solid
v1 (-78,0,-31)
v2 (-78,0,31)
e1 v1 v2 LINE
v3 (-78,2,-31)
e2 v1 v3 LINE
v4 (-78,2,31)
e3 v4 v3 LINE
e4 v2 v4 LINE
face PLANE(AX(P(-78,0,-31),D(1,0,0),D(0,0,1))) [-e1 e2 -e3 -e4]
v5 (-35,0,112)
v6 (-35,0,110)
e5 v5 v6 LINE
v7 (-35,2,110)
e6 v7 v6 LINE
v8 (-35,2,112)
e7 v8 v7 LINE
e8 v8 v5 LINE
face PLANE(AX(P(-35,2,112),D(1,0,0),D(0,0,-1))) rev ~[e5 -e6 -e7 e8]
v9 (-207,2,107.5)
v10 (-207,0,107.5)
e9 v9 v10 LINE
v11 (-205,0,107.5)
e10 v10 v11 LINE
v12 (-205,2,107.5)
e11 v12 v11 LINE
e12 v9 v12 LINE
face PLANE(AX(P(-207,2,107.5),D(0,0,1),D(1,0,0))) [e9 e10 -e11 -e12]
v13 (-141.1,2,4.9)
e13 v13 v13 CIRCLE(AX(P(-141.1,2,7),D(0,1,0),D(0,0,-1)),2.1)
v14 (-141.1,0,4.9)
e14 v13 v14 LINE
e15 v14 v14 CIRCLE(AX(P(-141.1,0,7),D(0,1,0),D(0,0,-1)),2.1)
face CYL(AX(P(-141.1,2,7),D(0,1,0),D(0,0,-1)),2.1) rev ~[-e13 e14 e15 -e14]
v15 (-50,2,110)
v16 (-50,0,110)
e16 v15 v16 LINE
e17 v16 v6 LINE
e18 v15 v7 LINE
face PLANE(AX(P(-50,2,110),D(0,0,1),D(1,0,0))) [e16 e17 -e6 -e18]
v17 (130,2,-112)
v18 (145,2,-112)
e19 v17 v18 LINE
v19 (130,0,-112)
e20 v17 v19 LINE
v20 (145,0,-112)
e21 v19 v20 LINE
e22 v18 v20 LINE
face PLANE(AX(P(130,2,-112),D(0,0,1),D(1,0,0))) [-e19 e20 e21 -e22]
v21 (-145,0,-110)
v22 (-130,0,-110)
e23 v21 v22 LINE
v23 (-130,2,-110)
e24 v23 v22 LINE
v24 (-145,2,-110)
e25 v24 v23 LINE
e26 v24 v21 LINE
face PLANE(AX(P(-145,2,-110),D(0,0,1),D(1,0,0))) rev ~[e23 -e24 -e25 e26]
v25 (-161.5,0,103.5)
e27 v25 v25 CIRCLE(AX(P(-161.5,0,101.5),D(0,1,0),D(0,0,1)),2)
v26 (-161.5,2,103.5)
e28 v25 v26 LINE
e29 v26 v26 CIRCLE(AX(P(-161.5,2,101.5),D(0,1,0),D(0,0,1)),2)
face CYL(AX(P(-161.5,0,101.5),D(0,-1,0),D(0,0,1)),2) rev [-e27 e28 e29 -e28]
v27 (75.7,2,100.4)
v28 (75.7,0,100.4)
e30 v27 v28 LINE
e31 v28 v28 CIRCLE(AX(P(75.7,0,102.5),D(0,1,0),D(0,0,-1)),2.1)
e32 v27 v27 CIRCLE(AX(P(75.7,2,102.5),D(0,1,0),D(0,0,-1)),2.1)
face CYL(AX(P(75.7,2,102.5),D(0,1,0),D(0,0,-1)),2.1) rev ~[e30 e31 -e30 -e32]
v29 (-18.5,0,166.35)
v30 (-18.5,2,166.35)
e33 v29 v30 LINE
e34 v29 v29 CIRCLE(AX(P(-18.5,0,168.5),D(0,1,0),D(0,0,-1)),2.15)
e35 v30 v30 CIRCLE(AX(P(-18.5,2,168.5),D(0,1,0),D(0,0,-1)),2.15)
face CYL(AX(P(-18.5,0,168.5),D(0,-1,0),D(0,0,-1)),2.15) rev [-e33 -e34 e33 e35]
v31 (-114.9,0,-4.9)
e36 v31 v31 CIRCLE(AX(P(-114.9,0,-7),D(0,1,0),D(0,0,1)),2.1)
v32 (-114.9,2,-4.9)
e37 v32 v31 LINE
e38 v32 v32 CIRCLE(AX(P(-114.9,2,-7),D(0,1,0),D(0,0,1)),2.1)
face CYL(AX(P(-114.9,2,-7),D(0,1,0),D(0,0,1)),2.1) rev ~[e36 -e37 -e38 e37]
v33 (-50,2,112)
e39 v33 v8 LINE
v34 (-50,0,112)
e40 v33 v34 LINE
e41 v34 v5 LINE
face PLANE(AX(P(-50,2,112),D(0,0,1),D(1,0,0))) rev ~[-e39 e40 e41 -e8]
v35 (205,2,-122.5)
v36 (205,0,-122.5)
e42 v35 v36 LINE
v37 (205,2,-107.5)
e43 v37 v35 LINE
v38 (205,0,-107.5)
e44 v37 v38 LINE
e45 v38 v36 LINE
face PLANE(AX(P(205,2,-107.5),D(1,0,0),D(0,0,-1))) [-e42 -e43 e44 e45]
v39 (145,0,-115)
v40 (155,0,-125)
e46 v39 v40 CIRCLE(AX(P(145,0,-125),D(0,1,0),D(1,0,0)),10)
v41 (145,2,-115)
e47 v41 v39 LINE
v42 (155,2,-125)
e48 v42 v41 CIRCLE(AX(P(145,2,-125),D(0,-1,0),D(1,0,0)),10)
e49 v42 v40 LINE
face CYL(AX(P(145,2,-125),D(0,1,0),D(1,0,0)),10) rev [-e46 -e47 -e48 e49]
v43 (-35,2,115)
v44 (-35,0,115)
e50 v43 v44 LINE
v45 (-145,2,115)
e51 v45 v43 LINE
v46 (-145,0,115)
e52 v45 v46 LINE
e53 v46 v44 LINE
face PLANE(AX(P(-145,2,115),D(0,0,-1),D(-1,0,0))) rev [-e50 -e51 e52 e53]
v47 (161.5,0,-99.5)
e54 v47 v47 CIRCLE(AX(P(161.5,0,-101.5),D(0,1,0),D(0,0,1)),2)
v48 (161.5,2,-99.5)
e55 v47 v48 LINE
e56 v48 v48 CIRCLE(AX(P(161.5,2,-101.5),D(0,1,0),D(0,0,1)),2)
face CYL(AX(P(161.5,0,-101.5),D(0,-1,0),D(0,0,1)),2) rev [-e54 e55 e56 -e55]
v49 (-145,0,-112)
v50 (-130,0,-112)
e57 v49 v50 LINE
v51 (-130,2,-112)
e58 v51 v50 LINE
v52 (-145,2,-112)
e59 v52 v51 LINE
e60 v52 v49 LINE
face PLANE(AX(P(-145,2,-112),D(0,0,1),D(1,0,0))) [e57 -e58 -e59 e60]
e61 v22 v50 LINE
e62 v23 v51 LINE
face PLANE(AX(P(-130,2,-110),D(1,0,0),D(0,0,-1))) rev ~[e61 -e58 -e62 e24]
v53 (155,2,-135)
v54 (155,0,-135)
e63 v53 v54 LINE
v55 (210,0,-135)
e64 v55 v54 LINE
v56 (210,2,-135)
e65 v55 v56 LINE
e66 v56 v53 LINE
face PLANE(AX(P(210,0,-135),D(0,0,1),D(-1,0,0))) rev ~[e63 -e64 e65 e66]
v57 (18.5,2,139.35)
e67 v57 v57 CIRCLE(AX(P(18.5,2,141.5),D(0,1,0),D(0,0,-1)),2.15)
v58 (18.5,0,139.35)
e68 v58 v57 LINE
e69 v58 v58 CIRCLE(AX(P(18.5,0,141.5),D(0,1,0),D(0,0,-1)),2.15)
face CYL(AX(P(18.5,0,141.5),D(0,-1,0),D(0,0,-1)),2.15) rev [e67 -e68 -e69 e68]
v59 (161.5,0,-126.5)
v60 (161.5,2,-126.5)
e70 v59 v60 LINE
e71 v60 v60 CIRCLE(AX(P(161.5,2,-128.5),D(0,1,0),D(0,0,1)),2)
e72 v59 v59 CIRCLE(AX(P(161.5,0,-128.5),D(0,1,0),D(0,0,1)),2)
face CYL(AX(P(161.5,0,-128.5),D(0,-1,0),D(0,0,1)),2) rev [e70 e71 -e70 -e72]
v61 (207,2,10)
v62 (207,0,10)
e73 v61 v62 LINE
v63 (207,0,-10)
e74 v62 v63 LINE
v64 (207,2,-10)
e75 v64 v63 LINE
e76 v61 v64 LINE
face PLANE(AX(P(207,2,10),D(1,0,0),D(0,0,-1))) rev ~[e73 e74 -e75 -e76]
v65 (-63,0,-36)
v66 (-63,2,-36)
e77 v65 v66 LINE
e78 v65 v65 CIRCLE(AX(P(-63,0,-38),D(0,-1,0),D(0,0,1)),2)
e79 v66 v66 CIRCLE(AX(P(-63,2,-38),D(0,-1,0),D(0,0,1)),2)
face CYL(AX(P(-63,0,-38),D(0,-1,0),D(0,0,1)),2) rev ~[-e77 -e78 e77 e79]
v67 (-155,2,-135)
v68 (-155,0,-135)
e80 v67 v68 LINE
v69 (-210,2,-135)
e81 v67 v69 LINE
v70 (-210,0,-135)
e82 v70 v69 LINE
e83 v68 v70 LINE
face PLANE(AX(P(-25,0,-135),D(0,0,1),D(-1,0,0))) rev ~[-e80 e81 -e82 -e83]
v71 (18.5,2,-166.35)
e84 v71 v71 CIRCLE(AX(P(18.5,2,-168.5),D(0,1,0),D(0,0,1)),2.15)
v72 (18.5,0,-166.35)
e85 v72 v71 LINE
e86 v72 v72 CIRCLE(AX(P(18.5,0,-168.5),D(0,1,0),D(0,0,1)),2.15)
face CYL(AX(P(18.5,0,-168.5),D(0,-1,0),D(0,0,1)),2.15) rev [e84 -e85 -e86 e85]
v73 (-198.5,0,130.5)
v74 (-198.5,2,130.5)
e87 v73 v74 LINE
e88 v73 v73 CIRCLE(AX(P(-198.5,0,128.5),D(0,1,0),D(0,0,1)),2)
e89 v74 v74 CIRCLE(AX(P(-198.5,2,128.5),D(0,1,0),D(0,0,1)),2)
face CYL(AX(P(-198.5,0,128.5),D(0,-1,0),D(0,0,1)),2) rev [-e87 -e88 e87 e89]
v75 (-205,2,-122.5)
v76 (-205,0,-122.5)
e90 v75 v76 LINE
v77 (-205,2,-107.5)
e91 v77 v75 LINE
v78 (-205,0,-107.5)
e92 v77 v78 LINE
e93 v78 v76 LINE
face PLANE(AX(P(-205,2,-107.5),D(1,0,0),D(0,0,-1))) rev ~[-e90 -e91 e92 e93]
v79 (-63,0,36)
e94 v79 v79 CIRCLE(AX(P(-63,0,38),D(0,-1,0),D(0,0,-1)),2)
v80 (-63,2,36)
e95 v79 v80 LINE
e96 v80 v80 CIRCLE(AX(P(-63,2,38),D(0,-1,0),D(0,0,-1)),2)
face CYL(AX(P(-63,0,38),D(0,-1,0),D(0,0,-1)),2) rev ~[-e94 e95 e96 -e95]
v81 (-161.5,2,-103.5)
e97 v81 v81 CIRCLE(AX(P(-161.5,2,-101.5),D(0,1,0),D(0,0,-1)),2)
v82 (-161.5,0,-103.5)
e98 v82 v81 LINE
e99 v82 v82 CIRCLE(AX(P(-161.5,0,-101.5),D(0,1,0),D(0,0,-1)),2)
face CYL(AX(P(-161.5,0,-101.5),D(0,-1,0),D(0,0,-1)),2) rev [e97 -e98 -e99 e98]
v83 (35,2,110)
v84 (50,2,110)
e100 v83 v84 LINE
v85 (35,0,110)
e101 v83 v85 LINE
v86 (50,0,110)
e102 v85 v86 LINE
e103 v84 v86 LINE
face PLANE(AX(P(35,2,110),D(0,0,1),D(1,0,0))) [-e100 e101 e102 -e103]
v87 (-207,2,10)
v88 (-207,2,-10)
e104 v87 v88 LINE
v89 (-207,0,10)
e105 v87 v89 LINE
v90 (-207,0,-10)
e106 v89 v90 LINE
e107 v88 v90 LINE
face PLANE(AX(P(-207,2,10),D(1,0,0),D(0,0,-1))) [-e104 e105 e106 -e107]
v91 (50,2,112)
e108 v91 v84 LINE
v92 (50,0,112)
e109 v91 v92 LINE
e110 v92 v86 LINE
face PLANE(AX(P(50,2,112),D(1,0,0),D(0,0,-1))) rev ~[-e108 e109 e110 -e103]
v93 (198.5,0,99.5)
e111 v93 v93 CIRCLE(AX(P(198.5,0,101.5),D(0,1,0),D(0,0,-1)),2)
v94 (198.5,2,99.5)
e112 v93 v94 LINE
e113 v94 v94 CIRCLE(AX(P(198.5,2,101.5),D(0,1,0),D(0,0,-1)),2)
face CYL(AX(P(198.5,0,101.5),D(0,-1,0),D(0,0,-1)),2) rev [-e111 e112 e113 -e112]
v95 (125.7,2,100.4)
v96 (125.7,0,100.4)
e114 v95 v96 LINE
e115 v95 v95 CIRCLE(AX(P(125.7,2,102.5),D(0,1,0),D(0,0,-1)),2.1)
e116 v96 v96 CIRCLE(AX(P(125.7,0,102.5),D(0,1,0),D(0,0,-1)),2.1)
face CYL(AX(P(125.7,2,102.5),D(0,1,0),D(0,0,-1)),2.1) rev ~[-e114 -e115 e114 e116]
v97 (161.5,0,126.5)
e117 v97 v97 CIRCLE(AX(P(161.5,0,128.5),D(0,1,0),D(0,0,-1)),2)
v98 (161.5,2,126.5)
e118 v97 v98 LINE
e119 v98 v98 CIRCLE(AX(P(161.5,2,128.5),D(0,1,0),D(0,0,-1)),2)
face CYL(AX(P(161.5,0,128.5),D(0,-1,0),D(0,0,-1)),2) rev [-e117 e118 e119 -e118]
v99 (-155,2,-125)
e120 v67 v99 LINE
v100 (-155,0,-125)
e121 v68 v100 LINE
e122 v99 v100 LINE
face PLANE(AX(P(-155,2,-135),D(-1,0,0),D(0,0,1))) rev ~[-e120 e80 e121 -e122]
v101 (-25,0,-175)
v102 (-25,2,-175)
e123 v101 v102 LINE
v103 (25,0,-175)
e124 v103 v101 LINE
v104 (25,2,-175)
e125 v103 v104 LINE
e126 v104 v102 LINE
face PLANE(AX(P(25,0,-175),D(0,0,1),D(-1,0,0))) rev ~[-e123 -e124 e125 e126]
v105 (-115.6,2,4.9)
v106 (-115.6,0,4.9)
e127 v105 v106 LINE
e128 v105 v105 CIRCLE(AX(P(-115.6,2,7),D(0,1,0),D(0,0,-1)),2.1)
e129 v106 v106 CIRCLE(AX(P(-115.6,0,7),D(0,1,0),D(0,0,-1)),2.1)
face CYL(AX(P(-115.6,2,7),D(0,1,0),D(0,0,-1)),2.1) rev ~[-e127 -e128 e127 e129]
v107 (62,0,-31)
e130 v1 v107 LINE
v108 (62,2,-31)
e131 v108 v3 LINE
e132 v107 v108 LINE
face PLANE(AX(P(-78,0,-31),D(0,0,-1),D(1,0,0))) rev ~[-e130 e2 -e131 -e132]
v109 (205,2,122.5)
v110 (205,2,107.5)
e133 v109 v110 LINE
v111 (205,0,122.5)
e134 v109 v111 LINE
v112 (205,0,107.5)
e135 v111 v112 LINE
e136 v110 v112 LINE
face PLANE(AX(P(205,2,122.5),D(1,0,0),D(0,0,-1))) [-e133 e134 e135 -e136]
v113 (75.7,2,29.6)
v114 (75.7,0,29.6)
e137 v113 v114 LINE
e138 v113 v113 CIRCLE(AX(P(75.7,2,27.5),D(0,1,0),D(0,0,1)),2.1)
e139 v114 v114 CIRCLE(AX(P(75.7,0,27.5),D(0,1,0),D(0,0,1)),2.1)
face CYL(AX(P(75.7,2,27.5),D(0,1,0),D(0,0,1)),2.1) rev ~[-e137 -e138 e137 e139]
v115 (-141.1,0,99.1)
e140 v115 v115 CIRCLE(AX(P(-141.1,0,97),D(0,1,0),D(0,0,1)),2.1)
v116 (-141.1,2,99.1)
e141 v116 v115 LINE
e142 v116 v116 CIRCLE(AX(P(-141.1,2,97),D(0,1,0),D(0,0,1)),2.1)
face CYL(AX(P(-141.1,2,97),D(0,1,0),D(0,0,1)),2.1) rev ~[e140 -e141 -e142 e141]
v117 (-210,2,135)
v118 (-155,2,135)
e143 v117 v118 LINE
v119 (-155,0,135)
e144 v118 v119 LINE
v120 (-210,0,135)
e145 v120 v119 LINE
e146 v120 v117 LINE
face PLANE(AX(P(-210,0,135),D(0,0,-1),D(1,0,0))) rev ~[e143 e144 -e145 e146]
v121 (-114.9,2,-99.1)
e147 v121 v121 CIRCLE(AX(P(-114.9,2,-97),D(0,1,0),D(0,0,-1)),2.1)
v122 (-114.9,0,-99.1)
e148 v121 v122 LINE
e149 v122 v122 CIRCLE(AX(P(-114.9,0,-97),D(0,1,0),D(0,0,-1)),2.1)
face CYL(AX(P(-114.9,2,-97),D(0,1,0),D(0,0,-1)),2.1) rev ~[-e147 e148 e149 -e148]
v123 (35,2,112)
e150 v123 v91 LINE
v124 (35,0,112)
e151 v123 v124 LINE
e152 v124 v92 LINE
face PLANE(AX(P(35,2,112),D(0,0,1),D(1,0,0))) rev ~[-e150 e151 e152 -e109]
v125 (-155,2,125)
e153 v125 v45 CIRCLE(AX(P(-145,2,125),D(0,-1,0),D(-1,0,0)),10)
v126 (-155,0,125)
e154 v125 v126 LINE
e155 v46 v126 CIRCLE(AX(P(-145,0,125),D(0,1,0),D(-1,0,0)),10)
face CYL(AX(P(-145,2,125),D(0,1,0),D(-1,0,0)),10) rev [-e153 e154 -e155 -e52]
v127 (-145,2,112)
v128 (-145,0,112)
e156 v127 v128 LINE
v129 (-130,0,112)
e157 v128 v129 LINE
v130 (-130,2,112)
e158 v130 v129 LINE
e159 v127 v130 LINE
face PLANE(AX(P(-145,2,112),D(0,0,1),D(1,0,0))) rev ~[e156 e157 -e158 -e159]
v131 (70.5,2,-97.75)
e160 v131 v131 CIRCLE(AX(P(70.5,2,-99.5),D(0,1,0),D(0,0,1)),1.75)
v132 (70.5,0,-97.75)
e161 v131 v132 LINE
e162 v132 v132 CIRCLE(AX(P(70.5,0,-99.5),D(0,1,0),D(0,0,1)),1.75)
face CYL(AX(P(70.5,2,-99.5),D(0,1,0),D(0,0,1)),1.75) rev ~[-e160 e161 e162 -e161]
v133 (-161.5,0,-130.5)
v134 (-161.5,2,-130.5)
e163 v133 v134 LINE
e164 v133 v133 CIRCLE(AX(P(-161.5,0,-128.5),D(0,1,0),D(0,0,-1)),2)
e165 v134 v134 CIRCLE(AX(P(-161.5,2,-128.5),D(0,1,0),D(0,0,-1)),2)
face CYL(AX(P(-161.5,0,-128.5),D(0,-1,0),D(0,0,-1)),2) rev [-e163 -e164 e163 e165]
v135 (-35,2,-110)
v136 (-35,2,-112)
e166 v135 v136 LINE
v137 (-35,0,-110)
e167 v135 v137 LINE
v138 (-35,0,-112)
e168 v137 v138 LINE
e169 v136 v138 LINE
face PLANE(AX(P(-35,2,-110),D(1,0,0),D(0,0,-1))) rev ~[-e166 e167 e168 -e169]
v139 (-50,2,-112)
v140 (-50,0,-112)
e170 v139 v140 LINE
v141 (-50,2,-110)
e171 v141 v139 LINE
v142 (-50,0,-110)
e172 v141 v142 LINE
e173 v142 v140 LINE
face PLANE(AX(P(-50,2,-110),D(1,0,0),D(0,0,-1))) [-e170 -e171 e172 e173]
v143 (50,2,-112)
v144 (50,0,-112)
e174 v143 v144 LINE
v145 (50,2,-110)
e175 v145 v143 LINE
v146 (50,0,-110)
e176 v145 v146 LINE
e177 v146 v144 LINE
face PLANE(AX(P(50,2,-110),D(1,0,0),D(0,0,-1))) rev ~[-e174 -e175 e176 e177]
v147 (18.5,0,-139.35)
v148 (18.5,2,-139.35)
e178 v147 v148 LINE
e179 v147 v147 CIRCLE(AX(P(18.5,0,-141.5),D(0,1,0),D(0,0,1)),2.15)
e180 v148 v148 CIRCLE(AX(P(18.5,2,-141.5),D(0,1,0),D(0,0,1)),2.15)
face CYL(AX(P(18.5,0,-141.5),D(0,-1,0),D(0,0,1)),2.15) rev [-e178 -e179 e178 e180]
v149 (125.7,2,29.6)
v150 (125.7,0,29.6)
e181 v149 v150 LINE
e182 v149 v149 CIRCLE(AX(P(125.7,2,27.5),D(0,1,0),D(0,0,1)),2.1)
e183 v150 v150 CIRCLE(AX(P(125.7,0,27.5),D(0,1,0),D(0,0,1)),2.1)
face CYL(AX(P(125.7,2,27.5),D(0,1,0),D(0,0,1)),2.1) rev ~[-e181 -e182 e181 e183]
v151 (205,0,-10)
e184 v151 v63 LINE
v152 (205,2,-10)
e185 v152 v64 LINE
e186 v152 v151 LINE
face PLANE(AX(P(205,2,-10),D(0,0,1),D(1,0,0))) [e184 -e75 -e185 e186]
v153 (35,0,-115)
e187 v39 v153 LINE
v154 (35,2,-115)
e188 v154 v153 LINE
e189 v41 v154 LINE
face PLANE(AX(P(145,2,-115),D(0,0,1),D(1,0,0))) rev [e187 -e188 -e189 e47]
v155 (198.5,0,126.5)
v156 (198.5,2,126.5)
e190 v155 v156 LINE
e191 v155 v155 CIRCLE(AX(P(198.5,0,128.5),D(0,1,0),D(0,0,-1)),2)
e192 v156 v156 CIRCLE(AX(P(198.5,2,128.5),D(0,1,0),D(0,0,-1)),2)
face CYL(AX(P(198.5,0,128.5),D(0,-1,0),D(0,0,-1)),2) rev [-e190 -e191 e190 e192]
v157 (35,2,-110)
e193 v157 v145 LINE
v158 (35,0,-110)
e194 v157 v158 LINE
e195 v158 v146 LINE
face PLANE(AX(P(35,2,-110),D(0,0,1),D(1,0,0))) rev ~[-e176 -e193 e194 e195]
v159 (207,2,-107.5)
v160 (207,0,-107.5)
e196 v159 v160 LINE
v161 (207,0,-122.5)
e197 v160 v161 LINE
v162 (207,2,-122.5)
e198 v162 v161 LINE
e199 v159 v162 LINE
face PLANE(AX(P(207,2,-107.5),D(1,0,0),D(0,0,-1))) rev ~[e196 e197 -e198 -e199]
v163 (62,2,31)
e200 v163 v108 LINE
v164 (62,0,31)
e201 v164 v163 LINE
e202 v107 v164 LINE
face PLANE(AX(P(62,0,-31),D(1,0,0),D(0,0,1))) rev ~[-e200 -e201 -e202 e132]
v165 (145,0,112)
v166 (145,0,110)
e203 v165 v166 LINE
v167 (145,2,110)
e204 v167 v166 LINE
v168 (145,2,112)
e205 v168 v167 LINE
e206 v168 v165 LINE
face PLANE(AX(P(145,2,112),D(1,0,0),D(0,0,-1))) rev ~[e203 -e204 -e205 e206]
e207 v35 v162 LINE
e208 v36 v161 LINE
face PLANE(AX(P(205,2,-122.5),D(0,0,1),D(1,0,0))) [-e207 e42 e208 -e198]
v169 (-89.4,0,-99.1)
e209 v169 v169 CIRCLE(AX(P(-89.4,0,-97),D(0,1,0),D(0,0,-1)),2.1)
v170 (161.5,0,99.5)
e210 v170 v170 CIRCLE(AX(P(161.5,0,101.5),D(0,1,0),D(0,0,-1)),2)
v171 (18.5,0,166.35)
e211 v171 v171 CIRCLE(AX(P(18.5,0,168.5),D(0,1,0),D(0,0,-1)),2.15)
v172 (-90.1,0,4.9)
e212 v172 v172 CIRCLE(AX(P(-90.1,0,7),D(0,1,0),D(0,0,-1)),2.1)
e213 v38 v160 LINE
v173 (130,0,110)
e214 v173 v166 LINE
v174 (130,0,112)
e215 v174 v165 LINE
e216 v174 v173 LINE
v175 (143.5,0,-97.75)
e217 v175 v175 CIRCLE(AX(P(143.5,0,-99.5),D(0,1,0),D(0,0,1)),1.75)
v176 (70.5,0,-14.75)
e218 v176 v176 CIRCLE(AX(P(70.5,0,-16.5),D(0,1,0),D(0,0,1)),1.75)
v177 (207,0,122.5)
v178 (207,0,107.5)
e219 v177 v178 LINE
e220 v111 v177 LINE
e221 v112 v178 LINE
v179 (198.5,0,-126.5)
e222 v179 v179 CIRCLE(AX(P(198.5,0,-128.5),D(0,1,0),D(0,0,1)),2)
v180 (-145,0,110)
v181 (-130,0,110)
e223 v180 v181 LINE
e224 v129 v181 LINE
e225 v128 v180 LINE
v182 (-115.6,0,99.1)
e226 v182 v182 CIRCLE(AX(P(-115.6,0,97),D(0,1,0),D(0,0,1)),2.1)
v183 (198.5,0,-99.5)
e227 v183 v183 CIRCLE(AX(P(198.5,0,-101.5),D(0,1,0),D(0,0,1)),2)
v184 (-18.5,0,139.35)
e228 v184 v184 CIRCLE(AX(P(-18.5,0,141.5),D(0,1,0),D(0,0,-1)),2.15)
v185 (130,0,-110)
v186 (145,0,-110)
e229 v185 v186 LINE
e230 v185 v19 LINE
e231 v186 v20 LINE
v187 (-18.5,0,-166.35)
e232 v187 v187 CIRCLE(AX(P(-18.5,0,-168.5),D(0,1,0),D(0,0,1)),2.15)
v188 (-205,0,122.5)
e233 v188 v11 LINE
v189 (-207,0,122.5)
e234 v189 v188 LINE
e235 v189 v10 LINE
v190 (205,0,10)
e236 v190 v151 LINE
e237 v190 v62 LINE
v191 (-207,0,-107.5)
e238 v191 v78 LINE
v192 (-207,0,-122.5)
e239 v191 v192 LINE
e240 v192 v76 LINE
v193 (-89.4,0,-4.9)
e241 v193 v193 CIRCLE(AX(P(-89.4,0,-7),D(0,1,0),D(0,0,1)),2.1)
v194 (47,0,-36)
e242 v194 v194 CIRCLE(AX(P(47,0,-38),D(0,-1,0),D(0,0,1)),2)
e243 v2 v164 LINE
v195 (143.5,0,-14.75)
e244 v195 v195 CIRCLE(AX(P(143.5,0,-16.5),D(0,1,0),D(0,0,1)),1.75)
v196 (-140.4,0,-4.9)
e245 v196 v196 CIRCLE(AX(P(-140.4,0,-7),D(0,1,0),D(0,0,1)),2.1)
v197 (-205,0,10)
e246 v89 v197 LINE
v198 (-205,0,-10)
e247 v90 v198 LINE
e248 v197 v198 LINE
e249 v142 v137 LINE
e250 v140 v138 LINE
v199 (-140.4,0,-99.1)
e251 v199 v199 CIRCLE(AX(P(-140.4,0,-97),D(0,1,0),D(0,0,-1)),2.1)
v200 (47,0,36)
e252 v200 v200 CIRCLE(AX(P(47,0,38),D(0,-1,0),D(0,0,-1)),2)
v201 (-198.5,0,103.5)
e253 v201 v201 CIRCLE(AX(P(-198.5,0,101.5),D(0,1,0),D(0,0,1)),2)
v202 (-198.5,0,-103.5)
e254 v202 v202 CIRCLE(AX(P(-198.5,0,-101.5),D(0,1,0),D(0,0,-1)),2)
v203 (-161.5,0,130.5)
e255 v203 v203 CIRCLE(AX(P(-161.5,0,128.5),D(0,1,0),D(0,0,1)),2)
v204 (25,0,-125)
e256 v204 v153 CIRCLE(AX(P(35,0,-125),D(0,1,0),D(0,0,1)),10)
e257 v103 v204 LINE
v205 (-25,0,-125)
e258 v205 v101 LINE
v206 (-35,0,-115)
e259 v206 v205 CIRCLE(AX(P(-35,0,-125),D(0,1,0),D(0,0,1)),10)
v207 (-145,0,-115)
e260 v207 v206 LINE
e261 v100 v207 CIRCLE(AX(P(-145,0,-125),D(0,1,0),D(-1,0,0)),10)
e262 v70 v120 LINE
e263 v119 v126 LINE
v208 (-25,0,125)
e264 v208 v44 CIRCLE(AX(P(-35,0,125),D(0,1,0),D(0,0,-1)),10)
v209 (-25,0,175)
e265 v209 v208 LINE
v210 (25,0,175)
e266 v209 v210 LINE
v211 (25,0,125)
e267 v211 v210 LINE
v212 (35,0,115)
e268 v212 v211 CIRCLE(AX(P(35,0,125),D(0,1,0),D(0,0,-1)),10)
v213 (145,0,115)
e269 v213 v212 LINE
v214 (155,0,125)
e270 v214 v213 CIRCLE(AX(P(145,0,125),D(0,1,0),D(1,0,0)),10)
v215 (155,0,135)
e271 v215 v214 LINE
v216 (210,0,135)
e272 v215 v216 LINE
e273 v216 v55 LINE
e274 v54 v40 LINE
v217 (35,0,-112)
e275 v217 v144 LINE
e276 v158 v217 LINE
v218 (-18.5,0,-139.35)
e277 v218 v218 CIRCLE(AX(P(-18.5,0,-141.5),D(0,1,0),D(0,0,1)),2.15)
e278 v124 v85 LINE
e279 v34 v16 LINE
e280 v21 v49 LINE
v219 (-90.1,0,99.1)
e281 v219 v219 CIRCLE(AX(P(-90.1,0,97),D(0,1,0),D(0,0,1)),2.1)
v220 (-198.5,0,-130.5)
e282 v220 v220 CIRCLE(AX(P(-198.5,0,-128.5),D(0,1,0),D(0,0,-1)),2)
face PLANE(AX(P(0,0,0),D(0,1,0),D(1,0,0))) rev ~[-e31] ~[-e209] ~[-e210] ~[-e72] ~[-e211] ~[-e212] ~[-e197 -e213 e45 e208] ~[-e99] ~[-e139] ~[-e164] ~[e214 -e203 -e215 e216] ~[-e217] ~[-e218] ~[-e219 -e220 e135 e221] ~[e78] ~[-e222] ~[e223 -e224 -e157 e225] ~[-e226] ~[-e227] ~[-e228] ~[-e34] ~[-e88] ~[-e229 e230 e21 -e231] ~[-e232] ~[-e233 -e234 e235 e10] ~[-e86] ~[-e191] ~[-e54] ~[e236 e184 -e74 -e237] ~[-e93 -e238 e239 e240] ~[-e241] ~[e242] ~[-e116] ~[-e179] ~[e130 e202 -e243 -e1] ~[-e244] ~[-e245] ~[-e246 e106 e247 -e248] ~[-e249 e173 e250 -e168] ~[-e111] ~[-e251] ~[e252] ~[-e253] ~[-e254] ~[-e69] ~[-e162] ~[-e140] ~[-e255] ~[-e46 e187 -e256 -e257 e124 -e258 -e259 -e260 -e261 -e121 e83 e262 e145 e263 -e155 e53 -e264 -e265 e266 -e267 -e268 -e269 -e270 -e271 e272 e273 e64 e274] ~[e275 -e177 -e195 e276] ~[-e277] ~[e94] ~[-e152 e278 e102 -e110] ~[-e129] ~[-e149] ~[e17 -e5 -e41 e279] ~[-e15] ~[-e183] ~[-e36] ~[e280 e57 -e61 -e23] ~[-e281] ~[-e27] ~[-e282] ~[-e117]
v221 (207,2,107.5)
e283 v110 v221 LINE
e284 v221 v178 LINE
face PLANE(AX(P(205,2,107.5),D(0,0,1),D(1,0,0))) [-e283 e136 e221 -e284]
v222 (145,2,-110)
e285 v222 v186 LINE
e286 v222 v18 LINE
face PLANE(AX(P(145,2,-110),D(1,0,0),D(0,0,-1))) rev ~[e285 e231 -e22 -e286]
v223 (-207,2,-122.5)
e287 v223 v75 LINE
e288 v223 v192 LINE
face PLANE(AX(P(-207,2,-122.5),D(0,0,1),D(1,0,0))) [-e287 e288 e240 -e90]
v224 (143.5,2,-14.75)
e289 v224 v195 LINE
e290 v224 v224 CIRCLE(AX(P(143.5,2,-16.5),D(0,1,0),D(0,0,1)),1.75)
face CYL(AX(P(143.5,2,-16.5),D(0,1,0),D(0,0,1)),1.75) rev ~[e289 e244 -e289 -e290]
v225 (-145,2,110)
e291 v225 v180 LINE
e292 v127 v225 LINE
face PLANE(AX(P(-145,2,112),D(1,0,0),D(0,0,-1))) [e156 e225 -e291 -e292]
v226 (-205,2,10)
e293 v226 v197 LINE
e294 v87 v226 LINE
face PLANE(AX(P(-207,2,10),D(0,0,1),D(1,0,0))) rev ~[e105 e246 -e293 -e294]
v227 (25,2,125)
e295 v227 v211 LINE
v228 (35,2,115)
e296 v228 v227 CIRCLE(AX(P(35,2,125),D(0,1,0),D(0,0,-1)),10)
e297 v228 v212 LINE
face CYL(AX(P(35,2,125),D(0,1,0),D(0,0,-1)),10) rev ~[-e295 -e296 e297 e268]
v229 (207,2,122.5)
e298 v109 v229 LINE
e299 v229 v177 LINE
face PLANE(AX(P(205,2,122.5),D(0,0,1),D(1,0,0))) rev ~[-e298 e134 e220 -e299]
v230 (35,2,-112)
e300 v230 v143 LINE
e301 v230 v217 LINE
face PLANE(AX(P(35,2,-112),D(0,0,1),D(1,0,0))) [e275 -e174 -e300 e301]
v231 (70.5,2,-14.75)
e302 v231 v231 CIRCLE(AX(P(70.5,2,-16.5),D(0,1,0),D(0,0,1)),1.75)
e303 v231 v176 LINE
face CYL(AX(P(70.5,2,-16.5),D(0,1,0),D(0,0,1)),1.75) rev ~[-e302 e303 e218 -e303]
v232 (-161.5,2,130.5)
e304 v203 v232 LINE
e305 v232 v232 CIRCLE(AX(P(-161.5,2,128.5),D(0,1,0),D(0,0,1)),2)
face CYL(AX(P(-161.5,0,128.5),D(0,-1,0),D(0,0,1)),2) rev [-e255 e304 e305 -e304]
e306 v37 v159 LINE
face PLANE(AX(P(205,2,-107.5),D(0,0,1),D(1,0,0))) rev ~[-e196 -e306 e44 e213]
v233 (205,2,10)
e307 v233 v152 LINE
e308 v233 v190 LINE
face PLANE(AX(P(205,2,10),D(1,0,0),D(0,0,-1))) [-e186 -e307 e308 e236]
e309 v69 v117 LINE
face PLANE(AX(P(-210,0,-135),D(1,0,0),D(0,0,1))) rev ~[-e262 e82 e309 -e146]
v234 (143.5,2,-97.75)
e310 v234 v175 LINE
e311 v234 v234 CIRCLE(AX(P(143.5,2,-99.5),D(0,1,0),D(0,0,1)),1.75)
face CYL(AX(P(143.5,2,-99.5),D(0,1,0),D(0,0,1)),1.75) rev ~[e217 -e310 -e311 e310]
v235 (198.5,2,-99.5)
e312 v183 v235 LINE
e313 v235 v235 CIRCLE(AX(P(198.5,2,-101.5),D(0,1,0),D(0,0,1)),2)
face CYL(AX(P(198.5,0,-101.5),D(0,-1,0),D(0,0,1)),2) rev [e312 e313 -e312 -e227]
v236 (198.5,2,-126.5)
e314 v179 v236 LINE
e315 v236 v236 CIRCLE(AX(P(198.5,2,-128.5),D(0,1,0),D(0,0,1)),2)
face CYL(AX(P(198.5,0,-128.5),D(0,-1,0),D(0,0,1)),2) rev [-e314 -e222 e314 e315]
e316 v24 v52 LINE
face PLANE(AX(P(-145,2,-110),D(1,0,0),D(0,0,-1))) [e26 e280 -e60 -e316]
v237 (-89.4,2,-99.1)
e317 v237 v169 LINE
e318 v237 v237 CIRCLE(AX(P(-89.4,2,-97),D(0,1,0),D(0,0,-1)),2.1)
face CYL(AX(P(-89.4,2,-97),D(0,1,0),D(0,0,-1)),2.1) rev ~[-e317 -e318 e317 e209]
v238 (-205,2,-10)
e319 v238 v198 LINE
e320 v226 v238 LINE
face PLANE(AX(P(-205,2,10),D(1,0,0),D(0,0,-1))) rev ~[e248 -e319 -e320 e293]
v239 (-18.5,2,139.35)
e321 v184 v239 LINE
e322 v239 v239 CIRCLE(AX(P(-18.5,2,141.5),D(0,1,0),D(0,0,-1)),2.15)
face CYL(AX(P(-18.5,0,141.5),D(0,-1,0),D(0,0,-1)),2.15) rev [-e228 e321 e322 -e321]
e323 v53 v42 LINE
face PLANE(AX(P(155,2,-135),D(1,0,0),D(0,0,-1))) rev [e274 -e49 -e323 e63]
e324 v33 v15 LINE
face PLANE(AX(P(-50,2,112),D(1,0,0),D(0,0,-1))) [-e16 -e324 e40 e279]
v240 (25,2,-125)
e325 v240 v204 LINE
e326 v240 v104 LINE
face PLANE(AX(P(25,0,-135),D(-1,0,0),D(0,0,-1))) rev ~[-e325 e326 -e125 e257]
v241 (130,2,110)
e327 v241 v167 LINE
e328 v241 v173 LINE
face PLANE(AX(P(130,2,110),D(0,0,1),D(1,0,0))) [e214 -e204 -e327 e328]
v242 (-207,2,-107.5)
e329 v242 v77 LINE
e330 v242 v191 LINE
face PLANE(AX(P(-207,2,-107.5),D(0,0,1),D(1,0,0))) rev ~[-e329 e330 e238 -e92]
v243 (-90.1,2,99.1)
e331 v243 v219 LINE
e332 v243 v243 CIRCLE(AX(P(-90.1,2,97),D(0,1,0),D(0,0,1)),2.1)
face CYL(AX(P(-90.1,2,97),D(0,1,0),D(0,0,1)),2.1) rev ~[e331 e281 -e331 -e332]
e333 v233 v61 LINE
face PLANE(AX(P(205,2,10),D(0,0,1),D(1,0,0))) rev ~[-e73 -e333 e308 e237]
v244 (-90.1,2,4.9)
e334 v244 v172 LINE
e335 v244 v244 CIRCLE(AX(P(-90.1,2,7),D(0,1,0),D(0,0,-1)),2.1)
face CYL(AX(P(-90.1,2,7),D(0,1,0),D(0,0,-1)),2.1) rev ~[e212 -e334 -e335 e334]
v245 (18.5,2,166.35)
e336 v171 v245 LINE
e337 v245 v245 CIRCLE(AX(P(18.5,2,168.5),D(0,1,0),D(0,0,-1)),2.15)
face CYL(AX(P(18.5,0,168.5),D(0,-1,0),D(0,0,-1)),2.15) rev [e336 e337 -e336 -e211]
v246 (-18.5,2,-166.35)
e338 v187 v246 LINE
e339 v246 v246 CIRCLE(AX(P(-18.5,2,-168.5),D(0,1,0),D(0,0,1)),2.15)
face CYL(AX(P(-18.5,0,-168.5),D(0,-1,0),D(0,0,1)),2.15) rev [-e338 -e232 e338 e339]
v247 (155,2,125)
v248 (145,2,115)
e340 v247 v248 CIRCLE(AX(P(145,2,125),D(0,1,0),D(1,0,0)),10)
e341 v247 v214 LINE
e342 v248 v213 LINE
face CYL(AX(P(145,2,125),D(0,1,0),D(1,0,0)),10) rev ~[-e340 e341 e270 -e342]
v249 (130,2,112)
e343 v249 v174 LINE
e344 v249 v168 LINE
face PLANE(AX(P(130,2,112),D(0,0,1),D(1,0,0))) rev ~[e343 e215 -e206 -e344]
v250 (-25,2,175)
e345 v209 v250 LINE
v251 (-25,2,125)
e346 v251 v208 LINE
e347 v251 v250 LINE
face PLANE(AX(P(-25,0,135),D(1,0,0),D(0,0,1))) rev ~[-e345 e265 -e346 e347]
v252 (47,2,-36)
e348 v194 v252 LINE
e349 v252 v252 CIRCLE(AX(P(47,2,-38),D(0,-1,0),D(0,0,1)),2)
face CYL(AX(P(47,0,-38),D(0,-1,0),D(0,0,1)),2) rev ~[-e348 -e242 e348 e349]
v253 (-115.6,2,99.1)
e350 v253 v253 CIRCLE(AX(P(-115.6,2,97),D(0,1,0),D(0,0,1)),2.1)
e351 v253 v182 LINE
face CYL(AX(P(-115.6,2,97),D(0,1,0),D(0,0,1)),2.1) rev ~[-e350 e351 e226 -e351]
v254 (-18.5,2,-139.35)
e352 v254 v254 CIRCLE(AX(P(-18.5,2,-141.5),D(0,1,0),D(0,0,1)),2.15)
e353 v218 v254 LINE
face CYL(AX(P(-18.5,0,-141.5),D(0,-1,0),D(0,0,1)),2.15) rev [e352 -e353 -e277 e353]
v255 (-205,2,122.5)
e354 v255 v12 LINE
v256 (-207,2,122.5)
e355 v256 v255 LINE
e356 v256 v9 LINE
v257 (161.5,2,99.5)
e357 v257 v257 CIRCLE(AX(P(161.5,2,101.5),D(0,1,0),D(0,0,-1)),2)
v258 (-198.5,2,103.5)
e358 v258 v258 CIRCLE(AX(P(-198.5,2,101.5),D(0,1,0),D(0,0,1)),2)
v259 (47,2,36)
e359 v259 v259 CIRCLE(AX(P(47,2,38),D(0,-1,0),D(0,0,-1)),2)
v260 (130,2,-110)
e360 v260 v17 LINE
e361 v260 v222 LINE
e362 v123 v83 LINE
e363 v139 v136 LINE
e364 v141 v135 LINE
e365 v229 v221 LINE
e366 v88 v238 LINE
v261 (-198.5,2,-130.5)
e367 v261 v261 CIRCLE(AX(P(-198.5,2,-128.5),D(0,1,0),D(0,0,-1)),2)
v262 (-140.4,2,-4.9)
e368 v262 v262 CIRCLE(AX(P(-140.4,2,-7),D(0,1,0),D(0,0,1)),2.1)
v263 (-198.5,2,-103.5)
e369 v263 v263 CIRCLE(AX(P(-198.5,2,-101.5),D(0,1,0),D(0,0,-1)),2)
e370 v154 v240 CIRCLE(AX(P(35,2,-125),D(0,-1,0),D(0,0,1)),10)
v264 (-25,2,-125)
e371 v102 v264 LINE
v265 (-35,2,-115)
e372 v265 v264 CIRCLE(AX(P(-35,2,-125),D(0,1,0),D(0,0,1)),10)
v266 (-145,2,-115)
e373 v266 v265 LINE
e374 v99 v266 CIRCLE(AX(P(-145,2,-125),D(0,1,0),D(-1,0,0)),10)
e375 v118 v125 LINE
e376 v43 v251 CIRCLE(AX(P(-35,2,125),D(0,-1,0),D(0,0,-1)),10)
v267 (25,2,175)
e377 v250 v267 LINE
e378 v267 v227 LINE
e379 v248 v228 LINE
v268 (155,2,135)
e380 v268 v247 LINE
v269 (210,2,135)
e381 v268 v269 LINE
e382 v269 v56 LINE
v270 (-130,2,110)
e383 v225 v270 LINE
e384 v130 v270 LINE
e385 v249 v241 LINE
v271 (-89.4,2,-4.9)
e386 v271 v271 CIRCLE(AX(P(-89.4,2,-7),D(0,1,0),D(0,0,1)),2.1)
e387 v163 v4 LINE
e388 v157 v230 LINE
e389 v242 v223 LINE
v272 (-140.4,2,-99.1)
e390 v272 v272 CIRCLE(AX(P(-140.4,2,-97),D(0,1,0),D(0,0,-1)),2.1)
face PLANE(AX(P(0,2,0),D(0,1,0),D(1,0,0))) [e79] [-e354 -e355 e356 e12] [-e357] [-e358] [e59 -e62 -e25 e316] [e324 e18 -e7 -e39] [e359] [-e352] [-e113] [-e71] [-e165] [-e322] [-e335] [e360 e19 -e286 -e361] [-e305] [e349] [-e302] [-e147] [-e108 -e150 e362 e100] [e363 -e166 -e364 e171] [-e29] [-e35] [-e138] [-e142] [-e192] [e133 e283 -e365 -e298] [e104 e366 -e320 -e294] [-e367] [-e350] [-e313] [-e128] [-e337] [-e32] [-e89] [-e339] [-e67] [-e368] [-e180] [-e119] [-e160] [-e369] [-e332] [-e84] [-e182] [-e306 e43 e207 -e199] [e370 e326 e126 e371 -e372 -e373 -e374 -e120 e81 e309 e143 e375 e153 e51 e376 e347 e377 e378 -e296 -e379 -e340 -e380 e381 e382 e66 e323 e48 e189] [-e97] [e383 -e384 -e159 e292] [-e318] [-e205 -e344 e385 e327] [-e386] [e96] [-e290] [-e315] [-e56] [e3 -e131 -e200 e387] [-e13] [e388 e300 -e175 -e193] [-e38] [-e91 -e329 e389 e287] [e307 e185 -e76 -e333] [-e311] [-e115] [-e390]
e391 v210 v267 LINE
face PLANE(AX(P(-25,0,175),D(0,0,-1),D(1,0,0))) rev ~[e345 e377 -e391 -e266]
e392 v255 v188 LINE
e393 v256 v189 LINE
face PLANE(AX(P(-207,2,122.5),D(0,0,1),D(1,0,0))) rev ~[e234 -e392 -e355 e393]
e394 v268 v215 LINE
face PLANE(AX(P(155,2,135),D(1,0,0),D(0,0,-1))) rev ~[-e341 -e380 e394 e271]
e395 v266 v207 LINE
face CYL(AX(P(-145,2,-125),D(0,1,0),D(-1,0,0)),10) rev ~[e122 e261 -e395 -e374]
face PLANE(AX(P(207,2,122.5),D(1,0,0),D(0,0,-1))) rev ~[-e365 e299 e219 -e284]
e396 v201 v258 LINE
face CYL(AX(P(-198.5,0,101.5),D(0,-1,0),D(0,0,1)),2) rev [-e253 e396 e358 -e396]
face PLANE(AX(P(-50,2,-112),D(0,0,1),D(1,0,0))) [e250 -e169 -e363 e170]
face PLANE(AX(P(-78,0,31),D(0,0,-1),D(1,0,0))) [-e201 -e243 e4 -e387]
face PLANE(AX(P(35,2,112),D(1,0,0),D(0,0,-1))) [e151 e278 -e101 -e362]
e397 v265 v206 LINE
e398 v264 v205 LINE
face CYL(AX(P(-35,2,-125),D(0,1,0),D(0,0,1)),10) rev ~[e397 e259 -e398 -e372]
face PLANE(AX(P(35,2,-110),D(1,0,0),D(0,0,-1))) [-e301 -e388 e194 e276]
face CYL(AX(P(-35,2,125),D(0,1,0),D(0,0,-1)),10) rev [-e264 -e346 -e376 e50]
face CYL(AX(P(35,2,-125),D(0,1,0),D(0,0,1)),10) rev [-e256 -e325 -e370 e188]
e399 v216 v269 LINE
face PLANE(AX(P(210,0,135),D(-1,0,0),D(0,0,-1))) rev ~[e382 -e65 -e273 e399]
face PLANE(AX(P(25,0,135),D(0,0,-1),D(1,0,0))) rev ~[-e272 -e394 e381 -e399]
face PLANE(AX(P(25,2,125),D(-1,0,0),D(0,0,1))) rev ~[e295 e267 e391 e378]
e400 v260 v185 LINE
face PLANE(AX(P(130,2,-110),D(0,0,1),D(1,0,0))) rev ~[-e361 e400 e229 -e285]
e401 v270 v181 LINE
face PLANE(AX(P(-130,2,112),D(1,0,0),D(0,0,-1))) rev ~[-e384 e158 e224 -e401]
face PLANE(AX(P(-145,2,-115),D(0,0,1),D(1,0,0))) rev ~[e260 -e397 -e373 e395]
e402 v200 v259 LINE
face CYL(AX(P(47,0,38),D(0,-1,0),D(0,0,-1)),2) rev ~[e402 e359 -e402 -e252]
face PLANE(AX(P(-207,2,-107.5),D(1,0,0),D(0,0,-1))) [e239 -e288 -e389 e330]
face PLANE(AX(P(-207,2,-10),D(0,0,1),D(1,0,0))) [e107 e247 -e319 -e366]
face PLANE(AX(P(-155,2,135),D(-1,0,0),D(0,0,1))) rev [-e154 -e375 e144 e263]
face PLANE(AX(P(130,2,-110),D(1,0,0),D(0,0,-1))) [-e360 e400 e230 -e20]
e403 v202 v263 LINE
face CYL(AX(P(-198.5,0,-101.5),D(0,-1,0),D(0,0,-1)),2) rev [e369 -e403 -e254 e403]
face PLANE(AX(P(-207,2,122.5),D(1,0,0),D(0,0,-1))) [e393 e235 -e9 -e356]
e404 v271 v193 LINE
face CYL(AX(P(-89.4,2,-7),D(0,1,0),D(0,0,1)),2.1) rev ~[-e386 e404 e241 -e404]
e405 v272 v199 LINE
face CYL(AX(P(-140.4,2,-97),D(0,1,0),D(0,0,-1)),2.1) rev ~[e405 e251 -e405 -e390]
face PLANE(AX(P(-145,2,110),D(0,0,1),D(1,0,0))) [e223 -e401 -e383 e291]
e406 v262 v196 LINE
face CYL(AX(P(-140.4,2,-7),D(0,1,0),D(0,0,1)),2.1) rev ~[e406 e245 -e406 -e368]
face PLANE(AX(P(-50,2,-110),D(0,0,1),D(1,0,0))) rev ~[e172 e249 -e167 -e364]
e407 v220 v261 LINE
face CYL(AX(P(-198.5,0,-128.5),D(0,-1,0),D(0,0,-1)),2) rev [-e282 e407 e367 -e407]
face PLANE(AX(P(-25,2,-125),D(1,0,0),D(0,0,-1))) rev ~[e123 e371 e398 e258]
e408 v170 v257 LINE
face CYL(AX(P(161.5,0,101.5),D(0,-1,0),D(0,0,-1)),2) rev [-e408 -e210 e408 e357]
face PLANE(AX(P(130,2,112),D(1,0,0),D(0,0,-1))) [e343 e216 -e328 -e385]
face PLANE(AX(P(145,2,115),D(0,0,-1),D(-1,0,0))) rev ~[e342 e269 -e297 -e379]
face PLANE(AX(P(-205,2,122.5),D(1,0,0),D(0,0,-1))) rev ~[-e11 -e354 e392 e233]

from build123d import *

# Parameters (mm, degrees)
SKETCH_1_R            = 2
SKETCH_1_R_2          = 2.15
EXTRUDE_1_DEPTH       = 2
CUT_EXTRUDE_1_DEPTH   = 274.366054952
MIRROR_2_COPY_1_DEPTH = 274.366054952
SKETCH_3_W            = 2
SKETCH_3_H            = 15
SKETCH_3_H_2          = 20
SKETCH_3_W_2          = 15
SKETCH_3_H_3          = 2
CUT_EXTRUDE_2_DEPTH   = 274.366054952
SKETCH_4_R            = 2.1
SKETCH_4_R_2          = 1.75
CUT_EXTRUDE_3_DEPTH   = 274.366054952
SKETCH_5_R            = 2
SKETCH_5_W            = 140
SKETCH_5_H            = 62
CUT_EXTRUDE_4_DEPTH   = 274.366054952


with BuildPart() as part:
    # 草图1 → 凸台-拉伸1 (new body)
    with BuildSketch(Plane(origin=(0, 0, 0), x_dir=(1, 0, 0), z_dir=(0, 1, 0))):
        Polygon((-210, -135), (-25, -135), (-25, -175), (25, -175), (25, -135), (210, -135), (210, 135), (25, 135), (25, 175), (-25, 175), (-25, 135), (-210, 135), align=None)
        with Locations((198.5, 128.5)):
            Circle(SKETCH_1_R, mode=Mode.SUBTRACT)
        with Locations((198.5, 101.5)):
            Circle(SKETCH_1_R, mode=Mode.SUBTRACT)
        with Locations((161.5, 101.5)):
            Circle(SKETCH_1_R, mode=Mode.SUBTRACT)
        with Locations((161.5, 128.5)):
            Circle(SKETCH_1_R, mode=Mode.SUBTRACT)
        with Locations((198.5, -128.5)):
            Circle(SKETCH_1_R, mode=Mode.SUBTRACT)
        with Locations((198.5, -101.5)):
            Circle(SKETCH_1_R, mode=Mode.SUBTRACT)
        with Locations((161.5, -101.5)):
            Circle(SKETCH_1_R, mode=Mode.SUBTRACT)
        with Locations((161.5, -128.5)):
            Circle(SKETCH_1_R, mode=Mode.SUBTRACT)
        with Locations((-161.5, 128.5)):
            Circle(SKETCH_1_R, mode=Mode.SUBTRACT)
        with Locations((-161.5, 101.5)):
            Circle(SKETCH_1_R, mode=Mode.SUBTRACT)
        with Locations((-198.5, 101.5)):
            Circle(SKETCH_1_R, mode=Mode.SUBTRACT)
        with Locations((-198.5, 128.5)):
            Circle(SKETCH_1_R, mode=Mode.SUBTRACT)
        with Locations((-161.5, -128.5)):
            Circle(SKETCH_1_R, mode=Mode.SUBTRACT)
        with Locations((-161.5, -101.5)):
            Circle(SKETCH_1_R, mode=Mode.SUBTRACT)
        with Locations((-198.5, -101.5)):
            Circle(SKETCH_1_R, mode=Mode.SUBTRACT)
        with Locations((-198.5, -128.5)):
            Circle(SKETCH_1_R, mode=Mode.SUBTRACT)
        with Locations((18.5, 168.5)):
            Circle(SKETCH_1_R_2, mode=Mode.SUBTRACT)
        with Locations((-18.5, 168.5)):
            Circle(SKETCH_1_R_2, mode=Mode.SUBTRACT)
        with Locations((-18.5, 141.5)):
            Circle(SKETCH_1_R_2, mode=Mode.SUBTRACT)
        with Locations((18.5, 141.5)):
            Circle(SKETCH_1_R_2, mode=Mode.SUBTRACT)
        with Locations((-18.5, -141.5)):
            Circle(SKETCH_1_R_2, mode=Mode.SUBTRACT)
        with Locations((18.5, -141.5)):
            Circle(SKETCH_1_R_2, mode=Mode.SUBTRACT)
        with Locations((18.5, -168.5)):
            Circle(SKETCH_1_R_2, mode=Mode.SUBTRACT)
        with Locations((-18.5, -168.5)):
            Circle(SKETCH_1_R_2, mode=Mode.SUBTRACT)
    extrude(amount=EXTRUDE_1_DEPTH)

    # 草图2 → 切除-拉伸1 (cut, through all)
    with BuildSketch(Plane(origin=(0, 2, 0), x_dir=(1, 0, 0), z_dir=(0, 1, 0))):
        with BuildLine():
            Line((-25, 135), (-155, 135))
            Line((-155, 135), (-155, 125))
            ThreePointArc((-155, 125), (-152.071067812, 117.928932188), (-145, 115))
            Line((-145, 115), (-35, 115))
            ThreePointArc((-35, 115), (-27.928932188, 117.928932188), (-25, 125))
            Line((-25, 125), (-25, 135))
        make_face()
    cut_extrude_1 = extrude(amount=-CUT_EXTRUDE_1_DEPTH, mode=Mode.SUBTRACT)

    # 镜向1: 切除-拉伸1 across plane
    add(cut_extrude_1.mirror(Plane.XY), mode=Mode.SUBTRACT)

    # 镜向2: 切除-拉伸1 across plane
    add(cut_extrude_1.mirror(Plane(origin=(0, 0, 0), x_dir=(0, 0, 1), z_dir=(1, 0, 0))), mode=Mode.SUBTRACT)

    # 镜向2 copy 1 sketch → 镜向2 copy 1 (cut, through all)
    with BuildSketch(Plane(origin=(0, 2, 0), x_dir=(-1, 0, 0), z_dir=(0, 1, 0))):
        with BuildLine():
            Line((-25, 135), (-155, 135))
            Line((-155, 135), (-155, 125))
            ThreePointArc((-155, 125), (-152.071067812, 117.928932188), (-145, 115))
            Line((-145, 115), (-35, 115))
            ThreePointArc((-35, 115), (-27.928932188, 117.928932188), (-25, 125))
            Line((-25, 125), (-25, 135))
        make_face()
    extrude(amount=-MIRROR_2_COPY_1_DEPTH, mode=Mode.SUBTRACT)

    # 草图3 → 切除-拉伸2 (cut, through all)
    with BuildSketch(Plane(origin=(0, 2, 0), x_dir=(1, 0, 0), z_dir=(0, 1, 0))):
        with Locations((-206, 115)):
            Rectangle(SKETCH_3_W, SKETCH_3_H)
        with Locations((-206, 0)):
            Rectangle(SKETCH_3_W, SKETCH_3_H_2)
        with Locations((-206, -115)):
            Rectangle(SKETCH_3_W, SKETCH_3_H)
        with Locations((206, -115)):
            Rectangle(SKETCH_3_W, SKETCH_3_H)
        with Locations((206, 0)):
            Rectangle(SKETCH_3_W, SKETCH_3_H_2)
        with Locations((206, 115)):
            Rectangle(SKETCH_3_W, SKETCH_3_H)
        with Locations((-137.5, 111)):
            Rectangle(SKETCH_3_W_2, SKETCH_3_H_3)
        with Locations((-42.5, 111)):
            Rectangle(SKETCH_3_W_2, SKETCH_3_H_3)
        with Locations((42.5, 111)):
            Rectangle(SKETCH_3_W_2, SKETCH_3_H_3)
        with Locations((137.5, 111)):
            Rectangle(SKETCH_3_W_2, SKETCH_3_H_3)
        with Locations((137.5, -111)):
            Rectangle(SKETCH_3_W_2, SKETCH_3_H_3)
        with Locations((42.5, -111)):
            Rectangle(SKETCH_3_W_2, SKETCH_3_H_3)
        with Locations((-42.5, -111)):
            Rectangle(SKETCH_3_W_2, SKETCH_3_H_3)
        with Locations((-137.5, -111)):
            Rectangle(SKETCH_3_W_2, SKETCH_3_H_3)
    extrude(amount=-CUT_EXTRUDE_2_DEPTH, mode=Mode.SUBTRACT)

    # 草图4 → 切除-拉伸3 (cut, through all)
    with BuildSketch(Plane(origin=(0, 2, 0), x_dir=(1, 0, 0), z_dir=(0, 1, 0))):
        with Locations((-141.1, -97)):
            Circle(SKETCH_4_R)
        with Locations((-115.6, -97)):
            Circle(SKETCH_4_R)
        with Locations((-90.1, -97)):
            Circle(SKETCH_4_R)
        with Locations((-90.1, -7)):
            Circle(SKETCH_4_R)
        with Locations((-115.6, -7)):
            Circle(SKETCH_4_R)
        with Locations((-141.1, -7)):
            Circle(SKETCH_4_R)
        with Locations((-140.4, 7)):
            Circle(SKETCH_4_R)
        with Locations((-114.9, 7)):
            Circle(SKETCH_4_R)
        with Locations((-89.4, 7)):
            Circle(SKETCH_4_R)
        with Locations((-89.4, 97)):
            Circle(SKETCH_4_R)
        with Locations((-114.9, 97)):
            Circle(SKETCH_4_R)
        with Locations((-140.4, 97)):
            Circle(SKETCH_4_R)
        with Locations((75.7, -27.5)):
            Circle(SKETCH_4_R)
        with Locations((125.7, -27.5)):
            Circle(SKETCH_4_R)
        with Locations((125.7, -102.5)):
            Circle(SKETCH_4_R)
        with Locations((75.7, -102.5)):
            Circle(SKETCH_4_R)
        with Locations((70.5, 99.5)):
            Circle(SKETCH_4_R_2)
        with Locations((143.5, 99.5)):
            Circle(SKETCH_4_R_2)
        with Locations((143.5, 16.5)):
            Circle(SKETCH_4_R_2)
        with Locations((70.5, 16.5)):
            Circle(SKETCH_4_R_2)
    extrude(amount=-CUT_EXTRUDE_3_DEPTH, mode=Mode.SUBTRACT)

    # 草图5 → 切除-拉伸4 (cut, through all)
    with BuildSketch(Plane.XZ):
        with Locations((-63, 38)):
            Circle(SKETCH_5_R)
        with Locations((47, 38)):
            Circle(SKETCH_5_R)
        with Locations((47, -38)):
            Circle(SKETCH_5_R)
        with Locations((-63, -38)):
            Circle(SKETCH_5_R)
        with Locations((-8, 0)):
            Rectangle(SKETCH_5_W, SKETCH_5_H)
    extrude(amount=-CUT_EXTRUDE_4_DEPTH, mode=Mode.SUBTRACT)


solid = part.part
